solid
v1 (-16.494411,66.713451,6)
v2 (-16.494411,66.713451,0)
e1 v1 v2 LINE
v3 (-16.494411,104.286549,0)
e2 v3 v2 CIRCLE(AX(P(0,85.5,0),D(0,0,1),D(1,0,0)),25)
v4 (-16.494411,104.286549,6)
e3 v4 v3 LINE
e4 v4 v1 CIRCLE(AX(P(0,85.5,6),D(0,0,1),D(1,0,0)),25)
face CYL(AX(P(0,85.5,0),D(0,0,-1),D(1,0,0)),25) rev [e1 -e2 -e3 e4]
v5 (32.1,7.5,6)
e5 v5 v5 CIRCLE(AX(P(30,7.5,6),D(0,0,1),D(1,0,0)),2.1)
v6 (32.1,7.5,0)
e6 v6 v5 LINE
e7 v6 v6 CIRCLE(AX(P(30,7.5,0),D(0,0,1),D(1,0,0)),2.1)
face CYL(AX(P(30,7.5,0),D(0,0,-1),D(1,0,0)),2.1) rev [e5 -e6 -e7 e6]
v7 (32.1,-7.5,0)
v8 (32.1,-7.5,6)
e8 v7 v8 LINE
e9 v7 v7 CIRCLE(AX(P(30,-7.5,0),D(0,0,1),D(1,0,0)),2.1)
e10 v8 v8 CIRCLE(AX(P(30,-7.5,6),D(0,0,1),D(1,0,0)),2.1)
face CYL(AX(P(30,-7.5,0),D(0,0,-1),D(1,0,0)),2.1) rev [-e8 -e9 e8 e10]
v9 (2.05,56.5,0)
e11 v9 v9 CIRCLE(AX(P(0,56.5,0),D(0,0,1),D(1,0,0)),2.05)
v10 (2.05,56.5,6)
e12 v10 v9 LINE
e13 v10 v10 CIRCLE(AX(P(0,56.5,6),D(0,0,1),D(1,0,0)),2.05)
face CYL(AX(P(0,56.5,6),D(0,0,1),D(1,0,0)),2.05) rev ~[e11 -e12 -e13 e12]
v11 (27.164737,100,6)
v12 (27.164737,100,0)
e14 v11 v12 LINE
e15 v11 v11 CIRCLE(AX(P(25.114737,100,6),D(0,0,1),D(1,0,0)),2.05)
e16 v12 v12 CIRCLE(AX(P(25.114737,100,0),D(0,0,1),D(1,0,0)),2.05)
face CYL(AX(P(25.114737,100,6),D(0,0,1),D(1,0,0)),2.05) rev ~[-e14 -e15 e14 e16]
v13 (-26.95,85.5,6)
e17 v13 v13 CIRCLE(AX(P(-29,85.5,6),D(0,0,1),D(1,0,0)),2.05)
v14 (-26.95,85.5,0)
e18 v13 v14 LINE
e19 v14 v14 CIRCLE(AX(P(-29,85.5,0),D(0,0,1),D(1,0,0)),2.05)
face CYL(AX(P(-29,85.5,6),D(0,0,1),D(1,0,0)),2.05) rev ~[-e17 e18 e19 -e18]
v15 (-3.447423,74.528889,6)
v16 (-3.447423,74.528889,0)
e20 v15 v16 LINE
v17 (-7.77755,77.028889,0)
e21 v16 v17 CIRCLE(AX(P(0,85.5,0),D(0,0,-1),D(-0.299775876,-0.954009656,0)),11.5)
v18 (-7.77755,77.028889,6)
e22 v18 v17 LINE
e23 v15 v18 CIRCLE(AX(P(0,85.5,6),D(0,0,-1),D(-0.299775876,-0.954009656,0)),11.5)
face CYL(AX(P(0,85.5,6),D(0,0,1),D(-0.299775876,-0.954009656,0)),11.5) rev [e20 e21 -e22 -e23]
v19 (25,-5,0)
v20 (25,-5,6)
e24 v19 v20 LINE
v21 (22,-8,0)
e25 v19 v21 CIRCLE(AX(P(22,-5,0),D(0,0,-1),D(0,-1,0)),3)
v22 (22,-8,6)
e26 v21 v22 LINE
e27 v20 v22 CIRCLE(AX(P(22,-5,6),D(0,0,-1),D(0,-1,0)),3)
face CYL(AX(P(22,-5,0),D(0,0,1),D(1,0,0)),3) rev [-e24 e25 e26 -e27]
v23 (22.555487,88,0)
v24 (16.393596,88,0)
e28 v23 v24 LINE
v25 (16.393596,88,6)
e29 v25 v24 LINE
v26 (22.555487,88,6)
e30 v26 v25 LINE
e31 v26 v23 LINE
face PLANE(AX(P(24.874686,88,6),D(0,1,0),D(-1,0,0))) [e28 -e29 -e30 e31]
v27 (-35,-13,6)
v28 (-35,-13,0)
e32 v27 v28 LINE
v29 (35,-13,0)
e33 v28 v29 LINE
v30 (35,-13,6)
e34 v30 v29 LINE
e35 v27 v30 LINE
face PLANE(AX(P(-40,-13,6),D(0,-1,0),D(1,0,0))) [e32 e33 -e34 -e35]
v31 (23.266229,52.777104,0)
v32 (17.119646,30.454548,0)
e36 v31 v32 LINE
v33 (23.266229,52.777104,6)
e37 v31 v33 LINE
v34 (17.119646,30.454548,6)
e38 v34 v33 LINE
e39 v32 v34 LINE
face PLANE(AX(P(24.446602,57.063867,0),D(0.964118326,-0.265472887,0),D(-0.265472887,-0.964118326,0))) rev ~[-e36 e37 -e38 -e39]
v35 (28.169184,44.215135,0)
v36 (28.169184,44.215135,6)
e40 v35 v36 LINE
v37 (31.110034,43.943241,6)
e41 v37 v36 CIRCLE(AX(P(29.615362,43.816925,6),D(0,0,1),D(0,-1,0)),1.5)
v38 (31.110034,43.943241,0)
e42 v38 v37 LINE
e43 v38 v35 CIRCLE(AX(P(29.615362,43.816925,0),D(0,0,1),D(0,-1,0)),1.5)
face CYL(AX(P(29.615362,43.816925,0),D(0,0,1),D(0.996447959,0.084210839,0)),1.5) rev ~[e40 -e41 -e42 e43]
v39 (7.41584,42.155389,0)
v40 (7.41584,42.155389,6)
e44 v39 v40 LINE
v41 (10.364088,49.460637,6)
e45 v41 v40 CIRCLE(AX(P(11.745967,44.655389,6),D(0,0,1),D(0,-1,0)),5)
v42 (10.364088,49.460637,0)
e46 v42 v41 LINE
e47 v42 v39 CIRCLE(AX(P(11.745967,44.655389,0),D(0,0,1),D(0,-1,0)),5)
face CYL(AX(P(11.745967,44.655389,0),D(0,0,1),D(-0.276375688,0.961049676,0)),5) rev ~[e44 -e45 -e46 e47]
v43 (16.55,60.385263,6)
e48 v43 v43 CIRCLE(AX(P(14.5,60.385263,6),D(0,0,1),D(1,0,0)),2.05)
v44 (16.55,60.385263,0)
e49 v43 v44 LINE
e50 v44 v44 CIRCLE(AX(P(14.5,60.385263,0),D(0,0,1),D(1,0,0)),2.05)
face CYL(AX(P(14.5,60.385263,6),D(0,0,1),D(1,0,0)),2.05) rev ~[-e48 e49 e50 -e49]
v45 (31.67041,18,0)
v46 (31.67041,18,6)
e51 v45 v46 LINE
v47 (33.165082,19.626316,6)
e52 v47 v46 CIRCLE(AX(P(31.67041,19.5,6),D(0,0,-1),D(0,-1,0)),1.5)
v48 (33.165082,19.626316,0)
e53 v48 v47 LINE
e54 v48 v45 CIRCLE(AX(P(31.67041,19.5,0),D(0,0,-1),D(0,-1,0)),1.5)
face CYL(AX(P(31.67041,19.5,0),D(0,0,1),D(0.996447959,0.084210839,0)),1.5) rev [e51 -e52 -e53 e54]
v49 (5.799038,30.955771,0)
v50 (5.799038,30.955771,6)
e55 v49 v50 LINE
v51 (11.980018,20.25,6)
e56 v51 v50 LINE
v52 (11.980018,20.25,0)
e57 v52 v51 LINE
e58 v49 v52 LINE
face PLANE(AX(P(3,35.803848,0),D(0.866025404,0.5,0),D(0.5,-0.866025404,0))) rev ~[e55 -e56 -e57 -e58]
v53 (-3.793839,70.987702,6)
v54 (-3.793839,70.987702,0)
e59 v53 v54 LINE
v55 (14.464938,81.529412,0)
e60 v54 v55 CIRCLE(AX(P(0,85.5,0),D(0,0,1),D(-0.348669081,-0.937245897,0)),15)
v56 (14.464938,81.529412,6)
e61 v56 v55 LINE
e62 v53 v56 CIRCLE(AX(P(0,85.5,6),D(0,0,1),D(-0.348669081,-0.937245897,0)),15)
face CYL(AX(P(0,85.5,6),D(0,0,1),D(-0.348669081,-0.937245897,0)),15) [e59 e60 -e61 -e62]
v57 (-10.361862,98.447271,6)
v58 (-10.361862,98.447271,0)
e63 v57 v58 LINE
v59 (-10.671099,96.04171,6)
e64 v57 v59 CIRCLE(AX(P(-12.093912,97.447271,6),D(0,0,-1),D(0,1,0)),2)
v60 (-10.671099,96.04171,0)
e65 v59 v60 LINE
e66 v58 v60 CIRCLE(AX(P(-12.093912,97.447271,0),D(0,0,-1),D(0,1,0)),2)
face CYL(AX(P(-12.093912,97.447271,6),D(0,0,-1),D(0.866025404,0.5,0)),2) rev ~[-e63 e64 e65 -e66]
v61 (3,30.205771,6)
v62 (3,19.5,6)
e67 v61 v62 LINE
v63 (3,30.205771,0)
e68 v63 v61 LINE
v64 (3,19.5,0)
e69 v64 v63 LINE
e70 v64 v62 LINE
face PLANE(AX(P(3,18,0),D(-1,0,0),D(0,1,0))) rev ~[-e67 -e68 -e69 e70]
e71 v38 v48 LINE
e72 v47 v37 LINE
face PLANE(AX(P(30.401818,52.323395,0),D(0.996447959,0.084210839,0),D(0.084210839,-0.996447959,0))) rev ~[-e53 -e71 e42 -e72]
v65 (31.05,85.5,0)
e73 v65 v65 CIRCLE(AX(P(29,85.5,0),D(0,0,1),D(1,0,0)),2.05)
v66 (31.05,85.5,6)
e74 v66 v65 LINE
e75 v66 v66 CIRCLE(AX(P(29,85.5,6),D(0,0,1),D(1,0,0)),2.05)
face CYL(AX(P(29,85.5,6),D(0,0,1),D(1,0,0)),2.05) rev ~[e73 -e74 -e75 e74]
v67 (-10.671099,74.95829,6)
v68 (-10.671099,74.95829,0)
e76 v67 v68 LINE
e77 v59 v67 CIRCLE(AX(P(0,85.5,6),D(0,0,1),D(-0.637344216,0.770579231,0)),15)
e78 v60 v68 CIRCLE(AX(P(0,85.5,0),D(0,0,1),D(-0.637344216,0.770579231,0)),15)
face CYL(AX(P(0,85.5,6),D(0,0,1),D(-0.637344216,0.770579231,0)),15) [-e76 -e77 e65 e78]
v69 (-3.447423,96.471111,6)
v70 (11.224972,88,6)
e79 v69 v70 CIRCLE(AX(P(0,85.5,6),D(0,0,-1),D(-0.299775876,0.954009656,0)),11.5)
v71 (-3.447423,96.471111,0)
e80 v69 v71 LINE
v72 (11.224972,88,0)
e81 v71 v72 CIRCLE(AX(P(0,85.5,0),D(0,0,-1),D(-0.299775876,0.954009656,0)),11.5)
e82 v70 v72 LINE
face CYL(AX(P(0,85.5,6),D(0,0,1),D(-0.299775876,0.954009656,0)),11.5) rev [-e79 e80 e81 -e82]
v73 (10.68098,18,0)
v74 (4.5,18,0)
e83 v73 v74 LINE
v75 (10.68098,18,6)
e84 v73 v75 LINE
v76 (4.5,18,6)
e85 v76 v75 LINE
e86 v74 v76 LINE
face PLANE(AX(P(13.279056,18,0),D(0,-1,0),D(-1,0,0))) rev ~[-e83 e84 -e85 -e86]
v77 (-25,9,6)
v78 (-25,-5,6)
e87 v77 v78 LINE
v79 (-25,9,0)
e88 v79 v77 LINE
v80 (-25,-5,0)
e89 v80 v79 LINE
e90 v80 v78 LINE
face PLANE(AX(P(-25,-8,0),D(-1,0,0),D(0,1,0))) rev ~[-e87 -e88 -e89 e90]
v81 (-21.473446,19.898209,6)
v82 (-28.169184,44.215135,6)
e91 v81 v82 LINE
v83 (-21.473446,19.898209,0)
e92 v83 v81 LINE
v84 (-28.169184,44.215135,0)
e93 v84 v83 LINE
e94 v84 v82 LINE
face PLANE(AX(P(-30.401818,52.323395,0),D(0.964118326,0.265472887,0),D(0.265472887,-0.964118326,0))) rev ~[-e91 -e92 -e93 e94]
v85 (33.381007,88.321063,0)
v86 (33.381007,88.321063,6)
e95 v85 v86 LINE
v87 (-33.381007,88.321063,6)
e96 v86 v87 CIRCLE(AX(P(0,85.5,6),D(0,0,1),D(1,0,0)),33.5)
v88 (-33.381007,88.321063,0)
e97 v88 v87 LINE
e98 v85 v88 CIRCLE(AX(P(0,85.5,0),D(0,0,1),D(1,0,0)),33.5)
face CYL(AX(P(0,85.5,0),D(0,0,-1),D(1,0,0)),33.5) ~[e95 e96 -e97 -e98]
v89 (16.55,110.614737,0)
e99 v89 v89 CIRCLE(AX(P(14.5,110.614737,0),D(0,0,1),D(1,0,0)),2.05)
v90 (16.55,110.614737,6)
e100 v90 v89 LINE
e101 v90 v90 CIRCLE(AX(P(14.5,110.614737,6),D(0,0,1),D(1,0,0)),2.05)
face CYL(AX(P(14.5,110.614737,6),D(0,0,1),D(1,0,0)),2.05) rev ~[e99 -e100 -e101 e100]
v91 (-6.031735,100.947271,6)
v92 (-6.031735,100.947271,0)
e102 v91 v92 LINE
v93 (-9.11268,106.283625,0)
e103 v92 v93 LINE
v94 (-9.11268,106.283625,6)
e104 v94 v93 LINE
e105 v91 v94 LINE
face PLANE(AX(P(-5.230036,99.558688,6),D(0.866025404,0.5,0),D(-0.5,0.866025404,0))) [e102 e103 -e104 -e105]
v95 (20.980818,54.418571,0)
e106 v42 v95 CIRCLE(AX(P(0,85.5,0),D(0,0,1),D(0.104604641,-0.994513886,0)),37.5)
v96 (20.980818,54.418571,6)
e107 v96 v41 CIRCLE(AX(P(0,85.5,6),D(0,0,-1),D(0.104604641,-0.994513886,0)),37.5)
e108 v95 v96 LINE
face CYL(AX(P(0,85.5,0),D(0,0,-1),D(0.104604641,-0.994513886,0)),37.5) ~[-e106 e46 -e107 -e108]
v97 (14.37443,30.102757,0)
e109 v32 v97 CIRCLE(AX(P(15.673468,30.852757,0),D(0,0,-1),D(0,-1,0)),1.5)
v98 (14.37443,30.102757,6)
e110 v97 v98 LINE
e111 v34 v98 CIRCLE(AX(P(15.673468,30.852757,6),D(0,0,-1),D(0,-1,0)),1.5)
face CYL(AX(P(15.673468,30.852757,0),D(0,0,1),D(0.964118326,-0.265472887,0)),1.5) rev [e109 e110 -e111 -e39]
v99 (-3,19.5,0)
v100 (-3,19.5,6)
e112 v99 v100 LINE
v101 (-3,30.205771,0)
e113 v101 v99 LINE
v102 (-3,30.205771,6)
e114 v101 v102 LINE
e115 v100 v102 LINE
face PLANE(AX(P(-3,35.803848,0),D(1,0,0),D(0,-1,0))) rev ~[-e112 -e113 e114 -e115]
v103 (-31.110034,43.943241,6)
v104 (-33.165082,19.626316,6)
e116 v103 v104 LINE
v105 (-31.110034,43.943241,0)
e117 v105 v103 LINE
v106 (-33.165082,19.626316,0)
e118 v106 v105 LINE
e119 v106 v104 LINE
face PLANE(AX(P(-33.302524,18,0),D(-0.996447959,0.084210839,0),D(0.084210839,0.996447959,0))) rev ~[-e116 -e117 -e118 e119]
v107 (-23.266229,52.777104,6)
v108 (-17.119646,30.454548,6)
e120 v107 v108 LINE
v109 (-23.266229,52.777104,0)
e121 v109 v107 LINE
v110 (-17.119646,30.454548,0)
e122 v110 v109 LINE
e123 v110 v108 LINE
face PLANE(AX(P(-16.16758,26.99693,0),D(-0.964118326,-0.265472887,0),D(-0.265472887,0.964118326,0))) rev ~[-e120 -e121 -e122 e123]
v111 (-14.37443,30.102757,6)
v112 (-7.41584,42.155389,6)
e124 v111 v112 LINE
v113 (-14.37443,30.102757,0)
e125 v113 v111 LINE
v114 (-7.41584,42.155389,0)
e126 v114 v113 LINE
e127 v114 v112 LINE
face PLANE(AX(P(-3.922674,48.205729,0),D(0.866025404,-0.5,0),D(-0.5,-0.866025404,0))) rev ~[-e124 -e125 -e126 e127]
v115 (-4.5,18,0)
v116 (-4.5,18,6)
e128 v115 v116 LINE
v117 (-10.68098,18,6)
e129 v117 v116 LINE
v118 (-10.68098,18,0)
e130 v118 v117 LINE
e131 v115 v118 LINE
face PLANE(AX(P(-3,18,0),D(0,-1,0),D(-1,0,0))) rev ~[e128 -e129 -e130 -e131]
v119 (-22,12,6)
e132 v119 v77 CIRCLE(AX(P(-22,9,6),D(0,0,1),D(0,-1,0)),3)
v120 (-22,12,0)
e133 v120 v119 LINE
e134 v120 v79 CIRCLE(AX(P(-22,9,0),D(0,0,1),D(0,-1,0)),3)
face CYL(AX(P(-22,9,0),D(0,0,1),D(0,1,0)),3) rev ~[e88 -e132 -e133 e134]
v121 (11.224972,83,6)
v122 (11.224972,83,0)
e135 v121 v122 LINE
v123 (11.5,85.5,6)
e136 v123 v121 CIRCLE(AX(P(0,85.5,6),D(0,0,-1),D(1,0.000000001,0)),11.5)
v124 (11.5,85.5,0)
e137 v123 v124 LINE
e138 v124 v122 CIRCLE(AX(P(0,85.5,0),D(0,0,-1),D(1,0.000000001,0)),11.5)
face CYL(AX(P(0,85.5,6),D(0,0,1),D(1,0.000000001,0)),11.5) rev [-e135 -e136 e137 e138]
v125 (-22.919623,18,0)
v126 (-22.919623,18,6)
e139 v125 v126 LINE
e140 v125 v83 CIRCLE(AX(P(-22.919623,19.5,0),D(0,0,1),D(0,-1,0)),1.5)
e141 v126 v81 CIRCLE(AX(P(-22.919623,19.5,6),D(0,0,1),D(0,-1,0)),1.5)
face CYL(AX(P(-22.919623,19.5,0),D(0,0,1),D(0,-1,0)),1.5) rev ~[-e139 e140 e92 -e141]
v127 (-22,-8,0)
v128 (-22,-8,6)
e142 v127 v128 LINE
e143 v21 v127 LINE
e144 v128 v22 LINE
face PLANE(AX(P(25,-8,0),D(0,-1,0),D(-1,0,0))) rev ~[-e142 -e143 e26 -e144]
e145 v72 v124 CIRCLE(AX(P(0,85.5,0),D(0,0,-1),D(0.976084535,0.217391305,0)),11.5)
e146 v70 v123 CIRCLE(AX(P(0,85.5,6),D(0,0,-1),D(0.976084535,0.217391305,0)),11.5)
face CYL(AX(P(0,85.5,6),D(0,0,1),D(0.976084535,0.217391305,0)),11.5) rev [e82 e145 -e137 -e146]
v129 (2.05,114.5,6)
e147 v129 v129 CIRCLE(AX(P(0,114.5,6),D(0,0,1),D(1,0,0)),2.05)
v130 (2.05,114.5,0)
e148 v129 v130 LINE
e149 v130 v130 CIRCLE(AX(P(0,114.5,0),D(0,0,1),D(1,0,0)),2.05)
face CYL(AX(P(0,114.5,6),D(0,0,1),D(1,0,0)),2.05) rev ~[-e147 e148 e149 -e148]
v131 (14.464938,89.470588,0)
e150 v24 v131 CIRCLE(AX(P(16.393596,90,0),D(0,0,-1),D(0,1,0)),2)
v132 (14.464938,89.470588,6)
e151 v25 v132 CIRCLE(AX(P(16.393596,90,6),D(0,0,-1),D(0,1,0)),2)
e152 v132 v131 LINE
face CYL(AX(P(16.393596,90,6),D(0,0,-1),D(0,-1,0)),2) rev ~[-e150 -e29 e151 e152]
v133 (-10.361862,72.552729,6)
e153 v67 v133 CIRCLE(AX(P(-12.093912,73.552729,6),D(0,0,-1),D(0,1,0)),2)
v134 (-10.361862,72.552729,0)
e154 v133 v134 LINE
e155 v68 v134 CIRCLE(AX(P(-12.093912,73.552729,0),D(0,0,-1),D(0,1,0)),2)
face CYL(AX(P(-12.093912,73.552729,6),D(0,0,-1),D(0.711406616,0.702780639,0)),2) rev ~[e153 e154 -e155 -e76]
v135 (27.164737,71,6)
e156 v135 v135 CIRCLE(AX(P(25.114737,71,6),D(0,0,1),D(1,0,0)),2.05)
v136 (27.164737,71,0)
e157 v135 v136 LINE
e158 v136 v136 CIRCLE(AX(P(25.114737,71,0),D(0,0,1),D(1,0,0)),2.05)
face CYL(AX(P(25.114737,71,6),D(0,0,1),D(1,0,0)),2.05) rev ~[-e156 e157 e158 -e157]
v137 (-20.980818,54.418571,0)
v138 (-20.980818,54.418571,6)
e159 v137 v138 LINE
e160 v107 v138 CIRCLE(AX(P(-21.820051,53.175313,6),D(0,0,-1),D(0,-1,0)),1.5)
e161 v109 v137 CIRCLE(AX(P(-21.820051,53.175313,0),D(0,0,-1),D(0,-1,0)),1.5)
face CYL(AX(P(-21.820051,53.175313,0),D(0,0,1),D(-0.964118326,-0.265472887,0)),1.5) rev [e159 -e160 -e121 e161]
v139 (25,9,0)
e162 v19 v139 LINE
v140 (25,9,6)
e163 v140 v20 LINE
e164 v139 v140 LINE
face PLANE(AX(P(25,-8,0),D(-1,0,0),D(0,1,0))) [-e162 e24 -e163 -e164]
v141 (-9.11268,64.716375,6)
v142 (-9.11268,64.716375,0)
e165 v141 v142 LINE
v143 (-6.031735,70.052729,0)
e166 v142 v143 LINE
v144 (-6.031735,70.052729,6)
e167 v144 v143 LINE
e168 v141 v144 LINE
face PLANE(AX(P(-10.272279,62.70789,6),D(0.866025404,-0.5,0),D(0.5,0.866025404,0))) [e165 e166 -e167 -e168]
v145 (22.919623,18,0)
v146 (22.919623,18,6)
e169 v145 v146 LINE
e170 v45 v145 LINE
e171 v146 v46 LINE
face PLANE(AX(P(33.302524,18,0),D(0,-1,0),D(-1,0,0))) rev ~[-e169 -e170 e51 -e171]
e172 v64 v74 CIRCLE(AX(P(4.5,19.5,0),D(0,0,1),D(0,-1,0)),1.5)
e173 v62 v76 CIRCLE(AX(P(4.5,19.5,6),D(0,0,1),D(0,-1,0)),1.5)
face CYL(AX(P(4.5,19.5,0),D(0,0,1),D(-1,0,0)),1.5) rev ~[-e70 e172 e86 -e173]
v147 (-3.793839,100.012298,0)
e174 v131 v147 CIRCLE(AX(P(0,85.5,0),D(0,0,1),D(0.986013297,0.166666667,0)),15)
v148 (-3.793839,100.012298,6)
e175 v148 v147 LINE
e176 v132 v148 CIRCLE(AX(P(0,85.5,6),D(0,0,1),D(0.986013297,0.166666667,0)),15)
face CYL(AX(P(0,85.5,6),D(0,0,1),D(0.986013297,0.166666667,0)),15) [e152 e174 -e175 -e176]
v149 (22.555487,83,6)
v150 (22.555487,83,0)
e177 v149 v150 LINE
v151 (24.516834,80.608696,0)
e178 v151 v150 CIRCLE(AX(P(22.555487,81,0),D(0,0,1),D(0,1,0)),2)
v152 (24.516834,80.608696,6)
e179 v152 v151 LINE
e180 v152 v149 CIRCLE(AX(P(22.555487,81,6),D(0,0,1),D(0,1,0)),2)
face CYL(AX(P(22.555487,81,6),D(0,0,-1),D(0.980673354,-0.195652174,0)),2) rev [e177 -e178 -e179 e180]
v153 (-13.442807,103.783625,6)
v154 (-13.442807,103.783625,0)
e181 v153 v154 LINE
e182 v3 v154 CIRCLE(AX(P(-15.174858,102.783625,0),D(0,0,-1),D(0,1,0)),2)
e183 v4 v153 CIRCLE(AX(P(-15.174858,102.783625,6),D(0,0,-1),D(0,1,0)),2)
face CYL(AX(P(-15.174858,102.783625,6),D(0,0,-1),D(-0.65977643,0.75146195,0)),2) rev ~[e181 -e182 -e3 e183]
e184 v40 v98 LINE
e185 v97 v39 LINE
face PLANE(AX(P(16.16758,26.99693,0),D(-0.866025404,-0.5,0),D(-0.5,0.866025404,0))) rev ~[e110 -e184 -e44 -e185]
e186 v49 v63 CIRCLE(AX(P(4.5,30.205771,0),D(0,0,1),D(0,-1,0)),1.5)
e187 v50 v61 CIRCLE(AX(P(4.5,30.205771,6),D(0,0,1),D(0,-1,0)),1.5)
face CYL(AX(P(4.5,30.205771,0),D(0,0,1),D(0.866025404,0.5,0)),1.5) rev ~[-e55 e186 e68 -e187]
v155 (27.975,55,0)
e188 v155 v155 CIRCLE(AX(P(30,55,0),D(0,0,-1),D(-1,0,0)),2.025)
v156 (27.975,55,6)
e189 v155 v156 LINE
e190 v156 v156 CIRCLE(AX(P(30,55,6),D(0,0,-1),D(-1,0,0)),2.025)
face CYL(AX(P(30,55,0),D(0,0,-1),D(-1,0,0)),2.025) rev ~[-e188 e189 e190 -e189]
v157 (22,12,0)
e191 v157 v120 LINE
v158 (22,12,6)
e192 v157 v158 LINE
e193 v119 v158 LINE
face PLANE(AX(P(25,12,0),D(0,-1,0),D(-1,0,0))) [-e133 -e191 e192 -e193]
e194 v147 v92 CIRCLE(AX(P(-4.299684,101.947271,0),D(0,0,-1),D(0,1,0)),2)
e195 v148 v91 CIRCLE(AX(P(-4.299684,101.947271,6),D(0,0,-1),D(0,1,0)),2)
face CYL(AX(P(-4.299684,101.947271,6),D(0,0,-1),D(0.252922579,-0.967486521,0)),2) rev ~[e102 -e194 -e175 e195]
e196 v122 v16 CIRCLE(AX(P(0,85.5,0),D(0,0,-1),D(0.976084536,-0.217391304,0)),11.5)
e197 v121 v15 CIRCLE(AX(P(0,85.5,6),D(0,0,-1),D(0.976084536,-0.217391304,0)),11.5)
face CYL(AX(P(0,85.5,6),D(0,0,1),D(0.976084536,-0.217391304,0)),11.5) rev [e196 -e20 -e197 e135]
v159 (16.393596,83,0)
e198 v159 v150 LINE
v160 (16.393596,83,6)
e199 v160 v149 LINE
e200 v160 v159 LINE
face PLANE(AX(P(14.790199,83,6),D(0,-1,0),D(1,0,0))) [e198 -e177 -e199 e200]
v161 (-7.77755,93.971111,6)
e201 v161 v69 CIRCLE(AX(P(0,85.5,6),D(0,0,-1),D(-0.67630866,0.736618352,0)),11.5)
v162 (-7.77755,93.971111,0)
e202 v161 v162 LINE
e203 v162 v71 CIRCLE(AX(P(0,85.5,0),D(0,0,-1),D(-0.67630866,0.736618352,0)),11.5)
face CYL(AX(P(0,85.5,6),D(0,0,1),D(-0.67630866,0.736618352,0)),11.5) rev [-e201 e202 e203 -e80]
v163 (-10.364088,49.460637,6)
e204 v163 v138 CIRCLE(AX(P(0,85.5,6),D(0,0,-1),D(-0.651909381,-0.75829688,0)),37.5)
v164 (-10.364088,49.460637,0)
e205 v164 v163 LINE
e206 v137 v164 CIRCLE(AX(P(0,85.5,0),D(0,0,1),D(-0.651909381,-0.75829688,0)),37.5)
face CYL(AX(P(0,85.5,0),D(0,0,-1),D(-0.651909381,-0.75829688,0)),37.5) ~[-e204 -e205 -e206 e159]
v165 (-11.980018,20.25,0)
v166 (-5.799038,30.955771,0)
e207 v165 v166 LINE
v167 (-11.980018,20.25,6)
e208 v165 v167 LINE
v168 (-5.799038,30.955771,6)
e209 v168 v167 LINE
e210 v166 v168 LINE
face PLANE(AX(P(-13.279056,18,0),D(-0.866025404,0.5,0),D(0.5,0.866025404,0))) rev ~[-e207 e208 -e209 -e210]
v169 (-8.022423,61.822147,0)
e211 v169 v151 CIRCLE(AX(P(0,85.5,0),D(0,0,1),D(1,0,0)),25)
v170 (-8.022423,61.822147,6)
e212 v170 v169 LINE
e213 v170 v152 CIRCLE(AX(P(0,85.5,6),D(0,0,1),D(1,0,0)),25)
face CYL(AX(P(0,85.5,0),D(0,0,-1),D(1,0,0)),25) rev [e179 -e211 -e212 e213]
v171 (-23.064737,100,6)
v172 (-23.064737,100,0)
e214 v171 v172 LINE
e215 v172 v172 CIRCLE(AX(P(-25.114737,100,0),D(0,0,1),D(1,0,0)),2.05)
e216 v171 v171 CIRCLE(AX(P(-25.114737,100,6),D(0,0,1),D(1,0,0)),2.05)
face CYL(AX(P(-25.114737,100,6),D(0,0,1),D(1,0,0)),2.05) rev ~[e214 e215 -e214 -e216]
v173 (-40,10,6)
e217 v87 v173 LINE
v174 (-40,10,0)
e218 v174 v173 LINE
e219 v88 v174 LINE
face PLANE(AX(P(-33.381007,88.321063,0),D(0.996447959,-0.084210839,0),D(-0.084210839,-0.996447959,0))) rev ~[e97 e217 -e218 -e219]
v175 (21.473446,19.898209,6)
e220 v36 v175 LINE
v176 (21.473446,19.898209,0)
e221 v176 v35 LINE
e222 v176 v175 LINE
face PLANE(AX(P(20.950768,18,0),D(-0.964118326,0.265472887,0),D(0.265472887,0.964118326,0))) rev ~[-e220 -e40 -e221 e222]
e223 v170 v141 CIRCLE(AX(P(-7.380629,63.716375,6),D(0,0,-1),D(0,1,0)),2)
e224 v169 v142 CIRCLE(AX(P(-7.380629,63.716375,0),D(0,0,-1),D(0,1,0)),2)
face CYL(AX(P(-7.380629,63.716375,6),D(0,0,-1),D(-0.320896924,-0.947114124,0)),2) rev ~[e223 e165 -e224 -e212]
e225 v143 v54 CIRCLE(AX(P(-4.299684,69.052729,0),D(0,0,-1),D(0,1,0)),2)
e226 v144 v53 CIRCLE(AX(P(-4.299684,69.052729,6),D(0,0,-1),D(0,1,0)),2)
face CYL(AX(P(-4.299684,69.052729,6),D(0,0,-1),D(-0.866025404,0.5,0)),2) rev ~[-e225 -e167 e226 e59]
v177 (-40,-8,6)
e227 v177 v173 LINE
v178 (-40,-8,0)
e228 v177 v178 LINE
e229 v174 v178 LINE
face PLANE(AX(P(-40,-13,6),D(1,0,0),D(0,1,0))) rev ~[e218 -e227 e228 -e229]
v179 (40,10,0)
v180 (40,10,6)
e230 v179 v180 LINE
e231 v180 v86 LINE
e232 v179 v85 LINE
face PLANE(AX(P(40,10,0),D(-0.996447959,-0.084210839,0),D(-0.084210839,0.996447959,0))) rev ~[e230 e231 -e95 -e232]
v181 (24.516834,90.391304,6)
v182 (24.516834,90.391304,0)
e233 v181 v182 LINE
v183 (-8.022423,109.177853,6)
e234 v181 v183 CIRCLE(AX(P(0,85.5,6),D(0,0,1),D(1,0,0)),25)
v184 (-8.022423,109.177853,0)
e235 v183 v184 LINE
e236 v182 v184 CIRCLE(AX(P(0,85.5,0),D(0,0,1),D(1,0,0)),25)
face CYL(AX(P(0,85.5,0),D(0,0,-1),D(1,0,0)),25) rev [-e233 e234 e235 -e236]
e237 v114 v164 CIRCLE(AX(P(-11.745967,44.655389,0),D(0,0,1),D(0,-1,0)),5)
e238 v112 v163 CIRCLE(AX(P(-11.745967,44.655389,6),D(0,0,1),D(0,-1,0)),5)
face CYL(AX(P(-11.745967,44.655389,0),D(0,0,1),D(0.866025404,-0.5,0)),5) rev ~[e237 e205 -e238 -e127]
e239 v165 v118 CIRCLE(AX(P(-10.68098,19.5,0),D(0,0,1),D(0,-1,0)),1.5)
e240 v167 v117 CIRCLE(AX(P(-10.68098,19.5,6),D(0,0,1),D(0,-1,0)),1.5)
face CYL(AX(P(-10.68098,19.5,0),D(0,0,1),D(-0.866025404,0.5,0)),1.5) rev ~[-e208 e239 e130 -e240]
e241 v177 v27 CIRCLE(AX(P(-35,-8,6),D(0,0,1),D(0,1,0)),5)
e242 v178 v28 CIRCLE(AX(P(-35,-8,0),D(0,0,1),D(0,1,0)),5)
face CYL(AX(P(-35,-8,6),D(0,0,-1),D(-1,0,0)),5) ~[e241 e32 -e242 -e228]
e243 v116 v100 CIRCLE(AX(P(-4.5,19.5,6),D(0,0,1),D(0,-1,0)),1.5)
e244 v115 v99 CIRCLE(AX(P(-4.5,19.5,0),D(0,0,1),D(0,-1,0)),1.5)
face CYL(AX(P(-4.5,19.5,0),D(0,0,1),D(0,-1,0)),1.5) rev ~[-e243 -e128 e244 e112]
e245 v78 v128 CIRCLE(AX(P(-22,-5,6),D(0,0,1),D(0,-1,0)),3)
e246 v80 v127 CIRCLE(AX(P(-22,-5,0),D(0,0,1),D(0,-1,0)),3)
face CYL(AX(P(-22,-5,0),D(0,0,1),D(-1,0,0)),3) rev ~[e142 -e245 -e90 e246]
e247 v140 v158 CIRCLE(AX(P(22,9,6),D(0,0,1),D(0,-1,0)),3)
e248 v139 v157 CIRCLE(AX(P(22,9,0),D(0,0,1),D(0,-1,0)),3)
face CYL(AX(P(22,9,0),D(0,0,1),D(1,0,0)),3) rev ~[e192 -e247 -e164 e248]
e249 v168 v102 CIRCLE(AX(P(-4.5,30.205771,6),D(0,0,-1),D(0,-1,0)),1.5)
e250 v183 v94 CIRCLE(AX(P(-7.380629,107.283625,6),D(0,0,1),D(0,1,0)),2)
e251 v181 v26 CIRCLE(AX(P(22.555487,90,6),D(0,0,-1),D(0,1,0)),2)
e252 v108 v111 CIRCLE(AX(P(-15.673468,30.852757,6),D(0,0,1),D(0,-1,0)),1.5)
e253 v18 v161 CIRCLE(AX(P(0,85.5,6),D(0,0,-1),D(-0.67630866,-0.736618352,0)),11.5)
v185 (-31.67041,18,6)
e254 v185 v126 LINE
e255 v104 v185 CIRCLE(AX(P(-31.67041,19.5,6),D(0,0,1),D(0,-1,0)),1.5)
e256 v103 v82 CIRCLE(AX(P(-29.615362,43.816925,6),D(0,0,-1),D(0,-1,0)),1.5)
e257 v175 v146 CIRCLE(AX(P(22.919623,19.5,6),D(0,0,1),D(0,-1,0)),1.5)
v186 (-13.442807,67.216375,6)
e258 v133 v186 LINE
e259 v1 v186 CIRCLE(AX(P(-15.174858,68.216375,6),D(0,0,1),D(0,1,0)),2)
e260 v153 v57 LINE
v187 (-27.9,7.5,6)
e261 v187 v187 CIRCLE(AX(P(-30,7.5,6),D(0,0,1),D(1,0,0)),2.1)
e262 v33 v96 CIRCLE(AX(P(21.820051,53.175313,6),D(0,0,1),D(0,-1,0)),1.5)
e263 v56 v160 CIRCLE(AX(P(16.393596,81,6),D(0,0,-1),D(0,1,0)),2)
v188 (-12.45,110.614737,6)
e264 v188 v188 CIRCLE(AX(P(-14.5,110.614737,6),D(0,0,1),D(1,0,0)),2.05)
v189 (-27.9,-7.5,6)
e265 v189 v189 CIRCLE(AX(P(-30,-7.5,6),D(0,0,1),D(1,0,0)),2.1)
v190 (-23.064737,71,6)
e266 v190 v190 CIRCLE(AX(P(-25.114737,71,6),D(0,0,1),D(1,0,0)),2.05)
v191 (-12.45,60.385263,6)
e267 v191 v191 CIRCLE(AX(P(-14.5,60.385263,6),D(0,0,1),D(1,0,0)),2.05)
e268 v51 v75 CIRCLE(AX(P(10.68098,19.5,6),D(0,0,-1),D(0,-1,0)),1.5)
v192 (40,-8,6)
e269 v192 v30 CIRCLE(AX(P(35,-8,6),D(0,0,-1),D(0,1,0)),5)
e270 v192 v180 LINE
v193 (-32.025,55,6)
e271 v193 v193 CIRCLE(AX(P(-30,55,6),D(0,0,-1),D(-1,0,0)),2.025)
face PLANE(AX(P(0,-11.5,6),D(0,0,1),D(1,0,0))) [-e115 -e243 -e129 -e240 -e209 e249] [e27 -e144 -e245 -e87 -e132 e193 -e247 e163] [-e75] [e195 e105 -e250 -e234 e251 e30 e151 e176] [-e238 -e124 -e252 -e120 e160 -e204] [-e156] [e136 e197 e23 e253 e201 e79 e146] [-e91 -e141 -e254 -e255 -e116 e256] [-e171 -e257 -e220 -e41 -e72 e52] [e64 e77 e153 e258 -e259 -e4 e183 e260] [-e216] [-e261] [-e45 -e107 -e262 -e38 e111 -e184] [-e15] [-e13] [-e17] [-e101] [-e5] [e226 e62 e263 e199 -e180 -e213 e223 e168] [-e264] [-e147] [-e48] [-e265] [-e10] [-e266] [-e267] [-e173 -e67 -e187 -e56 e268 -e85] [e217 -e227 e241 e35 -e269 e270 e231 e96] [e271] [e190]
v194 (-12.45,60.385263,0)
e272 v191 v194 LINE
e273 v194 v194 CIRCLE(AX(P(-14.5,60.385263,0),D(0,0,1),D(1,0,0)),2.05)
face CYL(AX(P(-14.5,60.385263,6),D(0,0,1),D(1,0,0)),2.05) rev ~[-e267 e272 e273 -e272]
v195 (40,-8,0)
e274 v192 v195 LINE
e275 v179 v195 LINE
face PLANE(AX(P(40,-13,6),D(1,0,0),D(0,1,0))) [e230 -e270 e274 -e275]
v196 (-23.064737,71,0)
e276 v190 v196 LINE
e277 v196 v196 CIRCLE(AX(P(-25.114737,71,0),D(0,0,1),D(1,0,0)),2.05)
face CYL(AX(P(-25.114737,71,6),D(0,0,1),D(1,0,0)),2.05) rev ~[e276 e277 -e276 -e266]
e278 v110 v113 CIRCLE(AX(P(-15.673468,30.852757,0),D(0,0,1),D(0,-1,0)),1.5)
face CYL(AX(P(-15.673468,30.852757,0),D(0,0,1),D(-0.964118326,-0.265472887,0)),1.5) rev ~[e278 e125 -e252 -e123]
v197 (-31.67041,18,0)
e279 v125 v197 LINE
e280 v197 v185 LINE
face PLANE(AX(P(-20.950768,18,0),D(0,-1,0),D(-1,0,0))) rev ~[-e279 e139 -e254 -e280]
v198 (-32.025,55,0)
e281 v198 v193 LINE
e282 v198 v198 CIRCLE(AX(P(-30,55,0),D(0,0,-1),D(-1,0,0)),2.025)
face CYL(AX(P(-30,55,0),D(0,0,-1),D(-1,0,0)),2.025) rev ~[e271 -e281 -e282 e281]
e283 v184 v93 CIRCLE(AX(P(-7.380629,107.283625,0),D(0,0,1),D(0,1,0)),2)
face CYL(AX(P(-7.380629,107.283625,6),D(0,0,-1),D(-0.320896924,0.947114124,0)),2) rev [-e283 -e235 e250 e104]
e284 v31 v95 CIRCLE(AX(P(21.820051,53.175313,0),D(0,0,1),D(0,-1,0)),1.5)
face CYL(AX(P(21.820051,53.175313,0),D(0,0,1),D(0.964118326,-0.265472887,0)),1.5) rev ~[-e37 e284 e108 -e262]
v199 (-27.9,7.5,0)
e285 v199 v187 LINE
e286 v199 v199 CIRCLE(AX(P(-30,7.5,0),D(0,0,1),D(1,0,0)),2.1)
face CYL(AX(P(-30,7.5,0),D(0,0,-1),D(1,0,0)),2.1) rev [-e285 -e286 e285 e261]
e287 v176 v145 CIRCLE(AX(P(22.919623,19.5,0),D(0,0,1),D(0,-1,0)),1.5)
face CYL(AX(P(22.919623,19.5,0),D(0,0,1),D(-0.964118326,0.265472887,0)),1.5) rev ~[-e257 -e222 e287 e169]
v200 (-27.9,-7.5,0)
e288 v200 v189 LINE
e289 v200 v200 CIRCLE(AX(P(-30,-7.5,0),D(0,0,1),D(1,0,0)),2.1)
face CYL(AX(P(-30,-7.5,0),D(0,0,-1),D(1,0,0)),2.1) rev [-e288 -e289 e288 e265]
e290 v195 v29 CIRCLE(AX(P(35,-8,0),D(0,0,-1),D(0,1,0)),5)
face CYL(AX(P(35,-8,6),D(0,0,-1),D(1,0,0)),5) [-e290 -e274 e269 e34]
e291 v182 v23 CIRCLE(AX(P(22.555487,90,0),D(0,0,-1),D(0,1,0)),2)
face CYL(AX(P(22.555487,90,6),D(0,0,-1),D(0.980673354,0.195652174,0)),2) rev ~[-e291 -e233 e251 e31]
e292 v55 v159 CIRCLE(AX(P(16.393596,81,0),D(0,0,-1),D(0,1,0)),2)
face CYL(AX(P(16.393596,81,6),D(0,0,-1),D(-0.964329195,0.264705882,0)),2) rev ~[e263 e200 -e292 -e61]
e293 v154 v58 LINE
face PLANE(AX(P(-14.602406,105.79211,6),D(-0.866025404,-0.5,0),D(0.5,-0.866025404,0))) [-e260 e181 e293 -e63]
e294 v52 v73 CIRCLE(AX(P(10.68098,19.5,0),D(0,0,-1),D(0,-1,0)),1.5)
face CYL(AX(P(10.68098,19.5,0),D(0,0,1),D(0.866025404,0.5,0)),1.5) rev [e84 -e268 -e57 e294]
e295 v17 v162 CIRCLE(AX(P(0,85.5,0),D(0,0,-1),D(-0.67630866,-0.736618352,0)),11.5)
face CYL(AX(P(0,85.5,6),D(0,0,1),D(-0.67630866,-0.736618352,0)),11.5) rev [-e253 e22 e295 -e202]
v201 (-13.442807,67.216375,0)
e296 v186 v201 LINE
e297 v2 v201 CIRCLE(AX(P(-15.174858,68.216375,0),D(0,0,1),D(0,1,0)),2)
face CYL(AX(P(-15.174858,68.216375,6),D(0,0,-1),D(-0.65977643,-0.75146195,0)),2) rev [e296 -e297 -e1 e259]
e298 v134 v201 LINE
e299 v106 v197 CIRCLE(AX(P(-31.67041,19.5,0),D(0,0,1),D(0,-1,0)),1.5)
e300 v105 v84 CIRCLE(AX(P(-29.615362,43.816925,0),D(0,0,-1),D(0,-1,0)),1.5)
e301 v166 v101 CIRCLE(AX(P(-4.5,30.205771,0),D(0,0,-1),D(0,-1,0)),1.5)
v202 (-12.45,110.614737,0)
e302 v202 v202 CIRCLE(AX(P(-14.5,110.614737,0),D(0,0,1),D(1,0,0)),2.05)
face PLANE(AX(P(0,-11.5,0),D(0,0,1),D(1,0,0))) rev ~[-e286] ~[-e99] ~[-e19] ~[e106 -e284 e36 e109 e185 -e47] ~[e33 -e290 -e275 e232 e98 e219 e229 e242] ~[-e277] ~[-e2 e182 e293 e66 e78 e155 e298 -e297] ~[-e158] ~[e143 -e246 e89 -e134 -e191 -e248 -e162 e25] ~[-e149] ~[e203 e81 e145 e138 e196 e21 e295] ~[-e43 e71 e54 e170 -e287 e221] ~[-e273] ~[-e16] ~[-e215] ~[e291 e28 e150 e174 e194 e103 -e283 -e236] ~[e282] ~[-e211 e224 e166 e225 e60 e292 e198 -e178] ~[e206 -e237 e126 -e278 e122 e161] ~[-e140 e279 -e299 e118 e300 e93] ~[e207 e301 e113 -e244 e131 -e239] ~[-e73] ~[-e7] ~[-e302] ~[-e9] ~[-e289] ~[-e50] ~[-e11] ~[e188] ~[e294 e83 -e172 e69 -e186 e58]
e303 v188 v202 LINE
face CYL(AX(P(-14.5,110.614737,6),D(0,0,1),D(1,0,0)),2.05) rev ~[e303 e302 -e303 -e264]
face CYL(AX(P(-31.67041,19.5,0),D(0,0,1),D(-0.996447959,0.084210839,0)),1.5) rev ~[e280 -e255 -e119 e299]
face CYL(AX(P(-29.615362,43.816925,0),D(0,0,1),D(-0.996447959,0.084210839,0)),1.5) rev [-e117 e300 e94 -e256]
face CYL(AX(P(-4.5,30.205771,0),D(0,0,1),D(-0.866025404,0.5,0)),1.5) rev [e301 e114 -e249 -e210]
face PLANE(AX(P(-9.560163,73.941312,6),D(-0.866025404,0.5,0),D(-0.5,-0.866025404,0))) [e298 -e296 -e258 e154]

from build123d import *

# Parameters (mm, degrees)
SKETCH_1_R          = 33.5
SKETCH_1_R_2        = 25
SKETCH_1_W          = 80
SKETCH_1_H          = 20
SKETCH_1_R_3        = 2.1
EXTRUDE_1_DEPTH     = 6
SKETCH_3_R          = 2.05
CUT_EXTRUDE_1_DEPTH = 7
EXTRUDE_2_DEPTH     = 6
FILLET_1_R          = 2
SKETCH_5_W          = 80
SKETCH_5_H          = 3
EXTRUDE_3_DEPTH     = 6
FILLET_2_R          = 5
SKETCH_6_W          = 50
SKETCH_6_H          = 20
CUT_EXTRUDE_2_DEPTH = 10
FILLET_3_R          = 3
FILLET_4_R          = 1.5
FILLET_5_R          = 5
SKETCH_7_R          = 2.025
CUT_EXTRUDE_3_DEPTH = 10


with BuildPart() as part:
    # 草图1 → 凸台-拉伸1 (new body)
    with BuildSketch(Plane.XY):
        with Locations((0, 85.5)):
            Circle(SKETCH_1_R)
        with Locations((0, 85.5)):
            Circle(SKETCH_1_R_2, mode=Mode.SUBTRACT)
        with BuildLine():
            Line((-33.38100662, 88.32106311), (-40, 10))
            Line((-40, 10), (40, 10))
            Line((40, 10), (33.38100662, 88.32106311))
            ThreePointArc((33.38100662, 88.32106311), (33.470238435, 86.911785792), (33.5, 85.5))
            ThreePointArc((33.5, 85.5), (-1.411785792, 52.029761565), (-33.38100662, 88.32106311))
        make_face()
        Rectangle(SKETCH_1_W, SKETCH_1_H)
        with Locations((-30, 7.5)):
            Circle(SKETCH_1_R_3, mode=Mode.SUBTRACT)
        with Locations((30, 7.5)):
            Circle(SKETCH_1_R_3, mode=Mode.SUBTRACT)
        with Locations((30, -7.5)):
            Circle(SKETCH_1_R_3, mode=Mode.SUBTRACT)
        with Locations((-30, -7.5)):
            Circle(SKETCH_1_R_3, mode=Mode.SUBTRACT)
    extrude(amount=EXTRUDE_1_DEPTH)

    # 草图3 → 切除-拉伸1 (cut, through all)
    with BuildSketch(Plane.XY.offset(6)):
        with Locations((0, 114.5)):
            Circle(SKETCH_3_R)
        with Locations((14.5, 110.61473671)):
            Circle(SKETCH_3_R)
        with Locations((25.11473671, 100)):
            Circle(SKETCH_3_R)
        with Locations((29, 85.5)):
            Circle(SKETCH_3_R)
        with Locations((25.11473671, 71)):
            Circle(SKETCH_3_R)
        with Locations((14.5, 60.38526329)):
            Circle(SKETCH_3_R)
        with Locations((0, 56.5)):
            Circle(SKETCH_3_R)
        with Locations((-14.5, 60.38526329)):
            Circle(SKETCH_3_R)
        with Locations((-25.11473671, 71)):
            Circle(SKETCH_3_R)
        with Locations((-29, 85.5)):
            Circle(SKETCH_3_R)
        with Locations((-25.11473671, 100)):
            Circle(SKETCH_3_R)
        with Locations((-14.5, 110.61473671)):
            Circle(SKETCH_3_R)
    extrude(amount=-CUT_EXTRUDE_1_DEPTH, mode=Mode.SUBTRACT)


with BuildPart() as body_2:
    # 草图4 → 凸台-拉伸2 (new body)
    with BuildSketch(Plane.XY.offset(6)):
        with BuildLine():
            ThreePointArc((-10.272279454, 108.292109925), (-12.5, 107.150635095), (-14.602406473, 105.792109925))
            Line((-14.602406473, 105.792109925), (-9.560163238, 97.058688457))
            Line((-9.560163238, 97.058688457), (-7.77754959, 93.971111048))
            ThreePointArc((-7.77754959, 93.971111048), (-5.75, 95.459292144), (-3.447422571, 96.471111048))
            Line((-3.447422571, 96.471111048), (-5.230036219, 99.558688457))
            Line((-5.230036219, 99.558688457), (-10.272279454, 108.292109925))
        make_face()
        with BuildLine():
            ThreePointArc((25, 85.5), (24.968651828, 86.751569376), (24.874685928, 88))
            Line((24.874685928, 88), (14.790199458, 88))
            Line((14.790199458, 88), (11.22497216, 88))
            ThreePointArc((11.22497216, 88), (11.431036258, 86.757541283), (11.5, 85.5))
            ThreePointArc((11.5, 85.5), (11.431036258, 84.242458717), (11.22497216, 83))
            Line((11.22497216, 83), (14.790199458, 83))
            Line((14.790199458, 83), (24.874685928, 83))
            ThreePointArc((24.874685928, 83), (24.968651828, 84.248430624), (25, 85.5))
        make_face()
        with BuildLine():
            Line((-9.560163238, 73.941311543), (-14.602406473, 65.207890075))
            ThreePointArc((-14.602406473, 65.207890075), (-12.5, 63.849364905), (-10.272279454, 62.707890075))
            Line((-10.272279454, 62.707890075), (-5.230036219, 71.441311543))
            Line((-5.230036219, 71.441311543), (-3.447422571, 74.528888952))
            ThreePointArc((-3.447422571, 74.528888952), (-5.75, 75.540707856), (-7.77754959, 77.028888952))
            Line((-7.77754959, 77.028888952), (-9.560163238, 73.941311543))
        make_face()
        with BuildLine():
            Line((-7.77754959, 93.971111048), (-9.560163238, 97.058688457))
            ThreePointArc((-9.560163238, 97.058688457), (-15, 85.5), (-9.560163238, 73.941311543))
            Line((-9.560163238, 73.941311543), (-7.77754959, 77.028888952))
            ThreePointArc((-7.77754959, 77.028888952), (-11.5, 85.5), (-7.77754959, 93.971111048))
        make_face()
        with BuildLine():
            Line((-3.447422571, 74.528888952), (-5.230036219, 71.441311543))
            ThreePointArc((-5.230036219, 71.441311543), (7.5, 72.509618943), (14.790199458, 83))
            Line((14.790199458, 83), (11.22497216, 83))
            ThreePointArc((11.22497216, 83), (5.75, 75.540707856), (-3.447422571, 74.528888952))
        make_face()
        with BuildLine():
            ThreePointArc((14.790199458, 88), (7.5, 98.490381057), (-5.230036219, 99.558688457))
            Line((-5.230036219, 99.558688457), (-3.447422571, 96.471111048))
            ThreePointArc((-3.447422571, 96.471111048), (5.75, 95.459292144), (11.22497216, 88))
            Line((11.22497216, 88), (14.790199458, 88))
        make_face()
    extrude(amount=-EXTRUDE_2_DEPTH)

    # Combine 1: union part
    add(part.part)

    # 圆角1
    fillet_1_edges = [body_2.edges().sort_by_distance(p)[0] for p in [
        (-9.560163238, 73.941311543, 3),
        (-14.602406473, 65.207890075, 3),
        (-10.272279454, 62.707890075, 3),
        (-5.230036219, 71.441311543, 3),
        (14.790199458, 83, 3),
        (24.874685928, 83, 3),
        (24.874685928, 88, 3),
        (14.790199458, 88, 3),
        (-5.230036219, 99.558688457, 3),
        (-10.272279454, 108.292109925, 3),
        (-14.602406473, 105.792109925, 3),
        (-9.560163238, 97.058688457, 3),
    ]]
    fillet(fillet_1_edges, radius=FILLET_1_R)

    # 草图5 → 凸台-拉伸3 (add)
    with BuildSketch(Plane.XY.offset(6)):
        with Locations((0, -11.5)):
            Rectangle(SKETCH_5_W, SKETCH_5_H)
    extrude(amount=-EXTRUDE_3_DEPTH)

    # 圆角2
    fillet_2_edges = [body_2.edges().sort_by_distance(p)[0] for p in [
        (-40, -13, 3),
        (40, -13, 3),
    ]]
    fillet(fillet_2_edges, radius=FILLET_2_R)

    # 草图6 → 切除-拉伸2 (cut)
    with BuildSketch(Plane(origin=(0, 0, 0), x_dir=(-1, 0, 0), z_dir=(0, 0, -1))):
        Polygon((-13.279056191, 18), (-3, 18), (-3, 35.803847577), align=None)
        Polygon((3, 35.803847577), (3, 18), (13.279056191, 18), align=None)
        with Locations((0, 2)):
            Rectangle(SKETCH_6_W, SKETCH_6_H)
        Polygon((-33.302523575, 18), (-20.950767875, 18), (-30.401818232, 52.323395297), align=None)
        with BuildLine():
            Line((-16.167580049, 26.996929919), (-3.922674029, 48.205729281))
            ThreePointArc((-3.922674029, 48.205729281), (-14.860033774, 51.069934705), (-24.446601804, 57.063866996))
            Line((-24.446601804, 57.063866996), (-16.167580049, 26.996929919))
        make_face()
        with BuildLine():
            ThreePointArc((24.446601804, 57.063866996), (14.860033774, 51.069934705), (3.922674029, 48.205729281))
            Line((3.922674029, 48.205729281), (16.167580049, 26.996929919))
            Line((16.167580049, 26.996929919), (24.446601804, 57.063866996))
        make_face()
        Polygon((30.401818232, 52.323395297), (20.950767875, 18), (33.302523575, 18), align=None)
    extrude(amount=-CUT_EXTRUDE_2_DEPTH, mode=Mode.SUBTRACT)

    # 圆角3
    fillet_3_edges = [body_2.edges().sort_by_distance(p)[0] for p in [
        (-25, 12, 3),
        (-25, -8, 3),
        (25, -8, 3),
        (25, 12, 3),
    ]]
    fillet(fillet_3_edges, radius=FILLET_3_R)

    # 圆角4
    fillet_4_edges = [body_2.edges().sort_by_distance(p)[0] for p in [
        (-3, 35.803847577, 3),
        (-13.279056191, 18, 3),
        (-3, 18, 3),
        (3, 35.803847577, 3),
        (3, 18, 3),
        (13.279056191, 18, 3),
        (-24.446601804, 57.063866996, 3),
        (-16.167580049, 26.996929919, 3),
        (-20.950767875, 18, 3),
        (-30.401818232, 52.323395297, 3),
        (-33.302523575, 18, 3),
        (20.950767875, 18, 3),
        (33.302523575, 18, 3),
        (30.401818232, 52.323395297, 3),
        (24.446601804, 57.063866996, 3),
        (16.167580049, 26.996929919, 3),
    ]]
    fillet(fillet_4_edges, radius=FILLET_4_R)

    # 圆角5
    fillet_5_edges = [body_2.edges().sort_by_distance(p)[0] for p in [
        (-3.922674029, 48.205729281, 3),
        (3.922674029, 48.205729281, 3),
    ]]
    fillet(fillet_5_edges, radius=FILLET_5_R)

    # 草图7 → 切除-拉伸3 (cut)
    with BuildSketch(Plane(origin=(0, 0, 0), x_dir=(-1, 0, 0), z_dir=(0, 0, -1))):
        with Locations((-30, 55)):
            Circle(SKETCH_7_R)
        with Locations((30, 55)):
            Circle(SKETCH_7_R)
    extrude(amount=-CUT_EXTRUDE_3_DEPTH, mode=Mode.SUBTRACT)


solid = body_2.part
